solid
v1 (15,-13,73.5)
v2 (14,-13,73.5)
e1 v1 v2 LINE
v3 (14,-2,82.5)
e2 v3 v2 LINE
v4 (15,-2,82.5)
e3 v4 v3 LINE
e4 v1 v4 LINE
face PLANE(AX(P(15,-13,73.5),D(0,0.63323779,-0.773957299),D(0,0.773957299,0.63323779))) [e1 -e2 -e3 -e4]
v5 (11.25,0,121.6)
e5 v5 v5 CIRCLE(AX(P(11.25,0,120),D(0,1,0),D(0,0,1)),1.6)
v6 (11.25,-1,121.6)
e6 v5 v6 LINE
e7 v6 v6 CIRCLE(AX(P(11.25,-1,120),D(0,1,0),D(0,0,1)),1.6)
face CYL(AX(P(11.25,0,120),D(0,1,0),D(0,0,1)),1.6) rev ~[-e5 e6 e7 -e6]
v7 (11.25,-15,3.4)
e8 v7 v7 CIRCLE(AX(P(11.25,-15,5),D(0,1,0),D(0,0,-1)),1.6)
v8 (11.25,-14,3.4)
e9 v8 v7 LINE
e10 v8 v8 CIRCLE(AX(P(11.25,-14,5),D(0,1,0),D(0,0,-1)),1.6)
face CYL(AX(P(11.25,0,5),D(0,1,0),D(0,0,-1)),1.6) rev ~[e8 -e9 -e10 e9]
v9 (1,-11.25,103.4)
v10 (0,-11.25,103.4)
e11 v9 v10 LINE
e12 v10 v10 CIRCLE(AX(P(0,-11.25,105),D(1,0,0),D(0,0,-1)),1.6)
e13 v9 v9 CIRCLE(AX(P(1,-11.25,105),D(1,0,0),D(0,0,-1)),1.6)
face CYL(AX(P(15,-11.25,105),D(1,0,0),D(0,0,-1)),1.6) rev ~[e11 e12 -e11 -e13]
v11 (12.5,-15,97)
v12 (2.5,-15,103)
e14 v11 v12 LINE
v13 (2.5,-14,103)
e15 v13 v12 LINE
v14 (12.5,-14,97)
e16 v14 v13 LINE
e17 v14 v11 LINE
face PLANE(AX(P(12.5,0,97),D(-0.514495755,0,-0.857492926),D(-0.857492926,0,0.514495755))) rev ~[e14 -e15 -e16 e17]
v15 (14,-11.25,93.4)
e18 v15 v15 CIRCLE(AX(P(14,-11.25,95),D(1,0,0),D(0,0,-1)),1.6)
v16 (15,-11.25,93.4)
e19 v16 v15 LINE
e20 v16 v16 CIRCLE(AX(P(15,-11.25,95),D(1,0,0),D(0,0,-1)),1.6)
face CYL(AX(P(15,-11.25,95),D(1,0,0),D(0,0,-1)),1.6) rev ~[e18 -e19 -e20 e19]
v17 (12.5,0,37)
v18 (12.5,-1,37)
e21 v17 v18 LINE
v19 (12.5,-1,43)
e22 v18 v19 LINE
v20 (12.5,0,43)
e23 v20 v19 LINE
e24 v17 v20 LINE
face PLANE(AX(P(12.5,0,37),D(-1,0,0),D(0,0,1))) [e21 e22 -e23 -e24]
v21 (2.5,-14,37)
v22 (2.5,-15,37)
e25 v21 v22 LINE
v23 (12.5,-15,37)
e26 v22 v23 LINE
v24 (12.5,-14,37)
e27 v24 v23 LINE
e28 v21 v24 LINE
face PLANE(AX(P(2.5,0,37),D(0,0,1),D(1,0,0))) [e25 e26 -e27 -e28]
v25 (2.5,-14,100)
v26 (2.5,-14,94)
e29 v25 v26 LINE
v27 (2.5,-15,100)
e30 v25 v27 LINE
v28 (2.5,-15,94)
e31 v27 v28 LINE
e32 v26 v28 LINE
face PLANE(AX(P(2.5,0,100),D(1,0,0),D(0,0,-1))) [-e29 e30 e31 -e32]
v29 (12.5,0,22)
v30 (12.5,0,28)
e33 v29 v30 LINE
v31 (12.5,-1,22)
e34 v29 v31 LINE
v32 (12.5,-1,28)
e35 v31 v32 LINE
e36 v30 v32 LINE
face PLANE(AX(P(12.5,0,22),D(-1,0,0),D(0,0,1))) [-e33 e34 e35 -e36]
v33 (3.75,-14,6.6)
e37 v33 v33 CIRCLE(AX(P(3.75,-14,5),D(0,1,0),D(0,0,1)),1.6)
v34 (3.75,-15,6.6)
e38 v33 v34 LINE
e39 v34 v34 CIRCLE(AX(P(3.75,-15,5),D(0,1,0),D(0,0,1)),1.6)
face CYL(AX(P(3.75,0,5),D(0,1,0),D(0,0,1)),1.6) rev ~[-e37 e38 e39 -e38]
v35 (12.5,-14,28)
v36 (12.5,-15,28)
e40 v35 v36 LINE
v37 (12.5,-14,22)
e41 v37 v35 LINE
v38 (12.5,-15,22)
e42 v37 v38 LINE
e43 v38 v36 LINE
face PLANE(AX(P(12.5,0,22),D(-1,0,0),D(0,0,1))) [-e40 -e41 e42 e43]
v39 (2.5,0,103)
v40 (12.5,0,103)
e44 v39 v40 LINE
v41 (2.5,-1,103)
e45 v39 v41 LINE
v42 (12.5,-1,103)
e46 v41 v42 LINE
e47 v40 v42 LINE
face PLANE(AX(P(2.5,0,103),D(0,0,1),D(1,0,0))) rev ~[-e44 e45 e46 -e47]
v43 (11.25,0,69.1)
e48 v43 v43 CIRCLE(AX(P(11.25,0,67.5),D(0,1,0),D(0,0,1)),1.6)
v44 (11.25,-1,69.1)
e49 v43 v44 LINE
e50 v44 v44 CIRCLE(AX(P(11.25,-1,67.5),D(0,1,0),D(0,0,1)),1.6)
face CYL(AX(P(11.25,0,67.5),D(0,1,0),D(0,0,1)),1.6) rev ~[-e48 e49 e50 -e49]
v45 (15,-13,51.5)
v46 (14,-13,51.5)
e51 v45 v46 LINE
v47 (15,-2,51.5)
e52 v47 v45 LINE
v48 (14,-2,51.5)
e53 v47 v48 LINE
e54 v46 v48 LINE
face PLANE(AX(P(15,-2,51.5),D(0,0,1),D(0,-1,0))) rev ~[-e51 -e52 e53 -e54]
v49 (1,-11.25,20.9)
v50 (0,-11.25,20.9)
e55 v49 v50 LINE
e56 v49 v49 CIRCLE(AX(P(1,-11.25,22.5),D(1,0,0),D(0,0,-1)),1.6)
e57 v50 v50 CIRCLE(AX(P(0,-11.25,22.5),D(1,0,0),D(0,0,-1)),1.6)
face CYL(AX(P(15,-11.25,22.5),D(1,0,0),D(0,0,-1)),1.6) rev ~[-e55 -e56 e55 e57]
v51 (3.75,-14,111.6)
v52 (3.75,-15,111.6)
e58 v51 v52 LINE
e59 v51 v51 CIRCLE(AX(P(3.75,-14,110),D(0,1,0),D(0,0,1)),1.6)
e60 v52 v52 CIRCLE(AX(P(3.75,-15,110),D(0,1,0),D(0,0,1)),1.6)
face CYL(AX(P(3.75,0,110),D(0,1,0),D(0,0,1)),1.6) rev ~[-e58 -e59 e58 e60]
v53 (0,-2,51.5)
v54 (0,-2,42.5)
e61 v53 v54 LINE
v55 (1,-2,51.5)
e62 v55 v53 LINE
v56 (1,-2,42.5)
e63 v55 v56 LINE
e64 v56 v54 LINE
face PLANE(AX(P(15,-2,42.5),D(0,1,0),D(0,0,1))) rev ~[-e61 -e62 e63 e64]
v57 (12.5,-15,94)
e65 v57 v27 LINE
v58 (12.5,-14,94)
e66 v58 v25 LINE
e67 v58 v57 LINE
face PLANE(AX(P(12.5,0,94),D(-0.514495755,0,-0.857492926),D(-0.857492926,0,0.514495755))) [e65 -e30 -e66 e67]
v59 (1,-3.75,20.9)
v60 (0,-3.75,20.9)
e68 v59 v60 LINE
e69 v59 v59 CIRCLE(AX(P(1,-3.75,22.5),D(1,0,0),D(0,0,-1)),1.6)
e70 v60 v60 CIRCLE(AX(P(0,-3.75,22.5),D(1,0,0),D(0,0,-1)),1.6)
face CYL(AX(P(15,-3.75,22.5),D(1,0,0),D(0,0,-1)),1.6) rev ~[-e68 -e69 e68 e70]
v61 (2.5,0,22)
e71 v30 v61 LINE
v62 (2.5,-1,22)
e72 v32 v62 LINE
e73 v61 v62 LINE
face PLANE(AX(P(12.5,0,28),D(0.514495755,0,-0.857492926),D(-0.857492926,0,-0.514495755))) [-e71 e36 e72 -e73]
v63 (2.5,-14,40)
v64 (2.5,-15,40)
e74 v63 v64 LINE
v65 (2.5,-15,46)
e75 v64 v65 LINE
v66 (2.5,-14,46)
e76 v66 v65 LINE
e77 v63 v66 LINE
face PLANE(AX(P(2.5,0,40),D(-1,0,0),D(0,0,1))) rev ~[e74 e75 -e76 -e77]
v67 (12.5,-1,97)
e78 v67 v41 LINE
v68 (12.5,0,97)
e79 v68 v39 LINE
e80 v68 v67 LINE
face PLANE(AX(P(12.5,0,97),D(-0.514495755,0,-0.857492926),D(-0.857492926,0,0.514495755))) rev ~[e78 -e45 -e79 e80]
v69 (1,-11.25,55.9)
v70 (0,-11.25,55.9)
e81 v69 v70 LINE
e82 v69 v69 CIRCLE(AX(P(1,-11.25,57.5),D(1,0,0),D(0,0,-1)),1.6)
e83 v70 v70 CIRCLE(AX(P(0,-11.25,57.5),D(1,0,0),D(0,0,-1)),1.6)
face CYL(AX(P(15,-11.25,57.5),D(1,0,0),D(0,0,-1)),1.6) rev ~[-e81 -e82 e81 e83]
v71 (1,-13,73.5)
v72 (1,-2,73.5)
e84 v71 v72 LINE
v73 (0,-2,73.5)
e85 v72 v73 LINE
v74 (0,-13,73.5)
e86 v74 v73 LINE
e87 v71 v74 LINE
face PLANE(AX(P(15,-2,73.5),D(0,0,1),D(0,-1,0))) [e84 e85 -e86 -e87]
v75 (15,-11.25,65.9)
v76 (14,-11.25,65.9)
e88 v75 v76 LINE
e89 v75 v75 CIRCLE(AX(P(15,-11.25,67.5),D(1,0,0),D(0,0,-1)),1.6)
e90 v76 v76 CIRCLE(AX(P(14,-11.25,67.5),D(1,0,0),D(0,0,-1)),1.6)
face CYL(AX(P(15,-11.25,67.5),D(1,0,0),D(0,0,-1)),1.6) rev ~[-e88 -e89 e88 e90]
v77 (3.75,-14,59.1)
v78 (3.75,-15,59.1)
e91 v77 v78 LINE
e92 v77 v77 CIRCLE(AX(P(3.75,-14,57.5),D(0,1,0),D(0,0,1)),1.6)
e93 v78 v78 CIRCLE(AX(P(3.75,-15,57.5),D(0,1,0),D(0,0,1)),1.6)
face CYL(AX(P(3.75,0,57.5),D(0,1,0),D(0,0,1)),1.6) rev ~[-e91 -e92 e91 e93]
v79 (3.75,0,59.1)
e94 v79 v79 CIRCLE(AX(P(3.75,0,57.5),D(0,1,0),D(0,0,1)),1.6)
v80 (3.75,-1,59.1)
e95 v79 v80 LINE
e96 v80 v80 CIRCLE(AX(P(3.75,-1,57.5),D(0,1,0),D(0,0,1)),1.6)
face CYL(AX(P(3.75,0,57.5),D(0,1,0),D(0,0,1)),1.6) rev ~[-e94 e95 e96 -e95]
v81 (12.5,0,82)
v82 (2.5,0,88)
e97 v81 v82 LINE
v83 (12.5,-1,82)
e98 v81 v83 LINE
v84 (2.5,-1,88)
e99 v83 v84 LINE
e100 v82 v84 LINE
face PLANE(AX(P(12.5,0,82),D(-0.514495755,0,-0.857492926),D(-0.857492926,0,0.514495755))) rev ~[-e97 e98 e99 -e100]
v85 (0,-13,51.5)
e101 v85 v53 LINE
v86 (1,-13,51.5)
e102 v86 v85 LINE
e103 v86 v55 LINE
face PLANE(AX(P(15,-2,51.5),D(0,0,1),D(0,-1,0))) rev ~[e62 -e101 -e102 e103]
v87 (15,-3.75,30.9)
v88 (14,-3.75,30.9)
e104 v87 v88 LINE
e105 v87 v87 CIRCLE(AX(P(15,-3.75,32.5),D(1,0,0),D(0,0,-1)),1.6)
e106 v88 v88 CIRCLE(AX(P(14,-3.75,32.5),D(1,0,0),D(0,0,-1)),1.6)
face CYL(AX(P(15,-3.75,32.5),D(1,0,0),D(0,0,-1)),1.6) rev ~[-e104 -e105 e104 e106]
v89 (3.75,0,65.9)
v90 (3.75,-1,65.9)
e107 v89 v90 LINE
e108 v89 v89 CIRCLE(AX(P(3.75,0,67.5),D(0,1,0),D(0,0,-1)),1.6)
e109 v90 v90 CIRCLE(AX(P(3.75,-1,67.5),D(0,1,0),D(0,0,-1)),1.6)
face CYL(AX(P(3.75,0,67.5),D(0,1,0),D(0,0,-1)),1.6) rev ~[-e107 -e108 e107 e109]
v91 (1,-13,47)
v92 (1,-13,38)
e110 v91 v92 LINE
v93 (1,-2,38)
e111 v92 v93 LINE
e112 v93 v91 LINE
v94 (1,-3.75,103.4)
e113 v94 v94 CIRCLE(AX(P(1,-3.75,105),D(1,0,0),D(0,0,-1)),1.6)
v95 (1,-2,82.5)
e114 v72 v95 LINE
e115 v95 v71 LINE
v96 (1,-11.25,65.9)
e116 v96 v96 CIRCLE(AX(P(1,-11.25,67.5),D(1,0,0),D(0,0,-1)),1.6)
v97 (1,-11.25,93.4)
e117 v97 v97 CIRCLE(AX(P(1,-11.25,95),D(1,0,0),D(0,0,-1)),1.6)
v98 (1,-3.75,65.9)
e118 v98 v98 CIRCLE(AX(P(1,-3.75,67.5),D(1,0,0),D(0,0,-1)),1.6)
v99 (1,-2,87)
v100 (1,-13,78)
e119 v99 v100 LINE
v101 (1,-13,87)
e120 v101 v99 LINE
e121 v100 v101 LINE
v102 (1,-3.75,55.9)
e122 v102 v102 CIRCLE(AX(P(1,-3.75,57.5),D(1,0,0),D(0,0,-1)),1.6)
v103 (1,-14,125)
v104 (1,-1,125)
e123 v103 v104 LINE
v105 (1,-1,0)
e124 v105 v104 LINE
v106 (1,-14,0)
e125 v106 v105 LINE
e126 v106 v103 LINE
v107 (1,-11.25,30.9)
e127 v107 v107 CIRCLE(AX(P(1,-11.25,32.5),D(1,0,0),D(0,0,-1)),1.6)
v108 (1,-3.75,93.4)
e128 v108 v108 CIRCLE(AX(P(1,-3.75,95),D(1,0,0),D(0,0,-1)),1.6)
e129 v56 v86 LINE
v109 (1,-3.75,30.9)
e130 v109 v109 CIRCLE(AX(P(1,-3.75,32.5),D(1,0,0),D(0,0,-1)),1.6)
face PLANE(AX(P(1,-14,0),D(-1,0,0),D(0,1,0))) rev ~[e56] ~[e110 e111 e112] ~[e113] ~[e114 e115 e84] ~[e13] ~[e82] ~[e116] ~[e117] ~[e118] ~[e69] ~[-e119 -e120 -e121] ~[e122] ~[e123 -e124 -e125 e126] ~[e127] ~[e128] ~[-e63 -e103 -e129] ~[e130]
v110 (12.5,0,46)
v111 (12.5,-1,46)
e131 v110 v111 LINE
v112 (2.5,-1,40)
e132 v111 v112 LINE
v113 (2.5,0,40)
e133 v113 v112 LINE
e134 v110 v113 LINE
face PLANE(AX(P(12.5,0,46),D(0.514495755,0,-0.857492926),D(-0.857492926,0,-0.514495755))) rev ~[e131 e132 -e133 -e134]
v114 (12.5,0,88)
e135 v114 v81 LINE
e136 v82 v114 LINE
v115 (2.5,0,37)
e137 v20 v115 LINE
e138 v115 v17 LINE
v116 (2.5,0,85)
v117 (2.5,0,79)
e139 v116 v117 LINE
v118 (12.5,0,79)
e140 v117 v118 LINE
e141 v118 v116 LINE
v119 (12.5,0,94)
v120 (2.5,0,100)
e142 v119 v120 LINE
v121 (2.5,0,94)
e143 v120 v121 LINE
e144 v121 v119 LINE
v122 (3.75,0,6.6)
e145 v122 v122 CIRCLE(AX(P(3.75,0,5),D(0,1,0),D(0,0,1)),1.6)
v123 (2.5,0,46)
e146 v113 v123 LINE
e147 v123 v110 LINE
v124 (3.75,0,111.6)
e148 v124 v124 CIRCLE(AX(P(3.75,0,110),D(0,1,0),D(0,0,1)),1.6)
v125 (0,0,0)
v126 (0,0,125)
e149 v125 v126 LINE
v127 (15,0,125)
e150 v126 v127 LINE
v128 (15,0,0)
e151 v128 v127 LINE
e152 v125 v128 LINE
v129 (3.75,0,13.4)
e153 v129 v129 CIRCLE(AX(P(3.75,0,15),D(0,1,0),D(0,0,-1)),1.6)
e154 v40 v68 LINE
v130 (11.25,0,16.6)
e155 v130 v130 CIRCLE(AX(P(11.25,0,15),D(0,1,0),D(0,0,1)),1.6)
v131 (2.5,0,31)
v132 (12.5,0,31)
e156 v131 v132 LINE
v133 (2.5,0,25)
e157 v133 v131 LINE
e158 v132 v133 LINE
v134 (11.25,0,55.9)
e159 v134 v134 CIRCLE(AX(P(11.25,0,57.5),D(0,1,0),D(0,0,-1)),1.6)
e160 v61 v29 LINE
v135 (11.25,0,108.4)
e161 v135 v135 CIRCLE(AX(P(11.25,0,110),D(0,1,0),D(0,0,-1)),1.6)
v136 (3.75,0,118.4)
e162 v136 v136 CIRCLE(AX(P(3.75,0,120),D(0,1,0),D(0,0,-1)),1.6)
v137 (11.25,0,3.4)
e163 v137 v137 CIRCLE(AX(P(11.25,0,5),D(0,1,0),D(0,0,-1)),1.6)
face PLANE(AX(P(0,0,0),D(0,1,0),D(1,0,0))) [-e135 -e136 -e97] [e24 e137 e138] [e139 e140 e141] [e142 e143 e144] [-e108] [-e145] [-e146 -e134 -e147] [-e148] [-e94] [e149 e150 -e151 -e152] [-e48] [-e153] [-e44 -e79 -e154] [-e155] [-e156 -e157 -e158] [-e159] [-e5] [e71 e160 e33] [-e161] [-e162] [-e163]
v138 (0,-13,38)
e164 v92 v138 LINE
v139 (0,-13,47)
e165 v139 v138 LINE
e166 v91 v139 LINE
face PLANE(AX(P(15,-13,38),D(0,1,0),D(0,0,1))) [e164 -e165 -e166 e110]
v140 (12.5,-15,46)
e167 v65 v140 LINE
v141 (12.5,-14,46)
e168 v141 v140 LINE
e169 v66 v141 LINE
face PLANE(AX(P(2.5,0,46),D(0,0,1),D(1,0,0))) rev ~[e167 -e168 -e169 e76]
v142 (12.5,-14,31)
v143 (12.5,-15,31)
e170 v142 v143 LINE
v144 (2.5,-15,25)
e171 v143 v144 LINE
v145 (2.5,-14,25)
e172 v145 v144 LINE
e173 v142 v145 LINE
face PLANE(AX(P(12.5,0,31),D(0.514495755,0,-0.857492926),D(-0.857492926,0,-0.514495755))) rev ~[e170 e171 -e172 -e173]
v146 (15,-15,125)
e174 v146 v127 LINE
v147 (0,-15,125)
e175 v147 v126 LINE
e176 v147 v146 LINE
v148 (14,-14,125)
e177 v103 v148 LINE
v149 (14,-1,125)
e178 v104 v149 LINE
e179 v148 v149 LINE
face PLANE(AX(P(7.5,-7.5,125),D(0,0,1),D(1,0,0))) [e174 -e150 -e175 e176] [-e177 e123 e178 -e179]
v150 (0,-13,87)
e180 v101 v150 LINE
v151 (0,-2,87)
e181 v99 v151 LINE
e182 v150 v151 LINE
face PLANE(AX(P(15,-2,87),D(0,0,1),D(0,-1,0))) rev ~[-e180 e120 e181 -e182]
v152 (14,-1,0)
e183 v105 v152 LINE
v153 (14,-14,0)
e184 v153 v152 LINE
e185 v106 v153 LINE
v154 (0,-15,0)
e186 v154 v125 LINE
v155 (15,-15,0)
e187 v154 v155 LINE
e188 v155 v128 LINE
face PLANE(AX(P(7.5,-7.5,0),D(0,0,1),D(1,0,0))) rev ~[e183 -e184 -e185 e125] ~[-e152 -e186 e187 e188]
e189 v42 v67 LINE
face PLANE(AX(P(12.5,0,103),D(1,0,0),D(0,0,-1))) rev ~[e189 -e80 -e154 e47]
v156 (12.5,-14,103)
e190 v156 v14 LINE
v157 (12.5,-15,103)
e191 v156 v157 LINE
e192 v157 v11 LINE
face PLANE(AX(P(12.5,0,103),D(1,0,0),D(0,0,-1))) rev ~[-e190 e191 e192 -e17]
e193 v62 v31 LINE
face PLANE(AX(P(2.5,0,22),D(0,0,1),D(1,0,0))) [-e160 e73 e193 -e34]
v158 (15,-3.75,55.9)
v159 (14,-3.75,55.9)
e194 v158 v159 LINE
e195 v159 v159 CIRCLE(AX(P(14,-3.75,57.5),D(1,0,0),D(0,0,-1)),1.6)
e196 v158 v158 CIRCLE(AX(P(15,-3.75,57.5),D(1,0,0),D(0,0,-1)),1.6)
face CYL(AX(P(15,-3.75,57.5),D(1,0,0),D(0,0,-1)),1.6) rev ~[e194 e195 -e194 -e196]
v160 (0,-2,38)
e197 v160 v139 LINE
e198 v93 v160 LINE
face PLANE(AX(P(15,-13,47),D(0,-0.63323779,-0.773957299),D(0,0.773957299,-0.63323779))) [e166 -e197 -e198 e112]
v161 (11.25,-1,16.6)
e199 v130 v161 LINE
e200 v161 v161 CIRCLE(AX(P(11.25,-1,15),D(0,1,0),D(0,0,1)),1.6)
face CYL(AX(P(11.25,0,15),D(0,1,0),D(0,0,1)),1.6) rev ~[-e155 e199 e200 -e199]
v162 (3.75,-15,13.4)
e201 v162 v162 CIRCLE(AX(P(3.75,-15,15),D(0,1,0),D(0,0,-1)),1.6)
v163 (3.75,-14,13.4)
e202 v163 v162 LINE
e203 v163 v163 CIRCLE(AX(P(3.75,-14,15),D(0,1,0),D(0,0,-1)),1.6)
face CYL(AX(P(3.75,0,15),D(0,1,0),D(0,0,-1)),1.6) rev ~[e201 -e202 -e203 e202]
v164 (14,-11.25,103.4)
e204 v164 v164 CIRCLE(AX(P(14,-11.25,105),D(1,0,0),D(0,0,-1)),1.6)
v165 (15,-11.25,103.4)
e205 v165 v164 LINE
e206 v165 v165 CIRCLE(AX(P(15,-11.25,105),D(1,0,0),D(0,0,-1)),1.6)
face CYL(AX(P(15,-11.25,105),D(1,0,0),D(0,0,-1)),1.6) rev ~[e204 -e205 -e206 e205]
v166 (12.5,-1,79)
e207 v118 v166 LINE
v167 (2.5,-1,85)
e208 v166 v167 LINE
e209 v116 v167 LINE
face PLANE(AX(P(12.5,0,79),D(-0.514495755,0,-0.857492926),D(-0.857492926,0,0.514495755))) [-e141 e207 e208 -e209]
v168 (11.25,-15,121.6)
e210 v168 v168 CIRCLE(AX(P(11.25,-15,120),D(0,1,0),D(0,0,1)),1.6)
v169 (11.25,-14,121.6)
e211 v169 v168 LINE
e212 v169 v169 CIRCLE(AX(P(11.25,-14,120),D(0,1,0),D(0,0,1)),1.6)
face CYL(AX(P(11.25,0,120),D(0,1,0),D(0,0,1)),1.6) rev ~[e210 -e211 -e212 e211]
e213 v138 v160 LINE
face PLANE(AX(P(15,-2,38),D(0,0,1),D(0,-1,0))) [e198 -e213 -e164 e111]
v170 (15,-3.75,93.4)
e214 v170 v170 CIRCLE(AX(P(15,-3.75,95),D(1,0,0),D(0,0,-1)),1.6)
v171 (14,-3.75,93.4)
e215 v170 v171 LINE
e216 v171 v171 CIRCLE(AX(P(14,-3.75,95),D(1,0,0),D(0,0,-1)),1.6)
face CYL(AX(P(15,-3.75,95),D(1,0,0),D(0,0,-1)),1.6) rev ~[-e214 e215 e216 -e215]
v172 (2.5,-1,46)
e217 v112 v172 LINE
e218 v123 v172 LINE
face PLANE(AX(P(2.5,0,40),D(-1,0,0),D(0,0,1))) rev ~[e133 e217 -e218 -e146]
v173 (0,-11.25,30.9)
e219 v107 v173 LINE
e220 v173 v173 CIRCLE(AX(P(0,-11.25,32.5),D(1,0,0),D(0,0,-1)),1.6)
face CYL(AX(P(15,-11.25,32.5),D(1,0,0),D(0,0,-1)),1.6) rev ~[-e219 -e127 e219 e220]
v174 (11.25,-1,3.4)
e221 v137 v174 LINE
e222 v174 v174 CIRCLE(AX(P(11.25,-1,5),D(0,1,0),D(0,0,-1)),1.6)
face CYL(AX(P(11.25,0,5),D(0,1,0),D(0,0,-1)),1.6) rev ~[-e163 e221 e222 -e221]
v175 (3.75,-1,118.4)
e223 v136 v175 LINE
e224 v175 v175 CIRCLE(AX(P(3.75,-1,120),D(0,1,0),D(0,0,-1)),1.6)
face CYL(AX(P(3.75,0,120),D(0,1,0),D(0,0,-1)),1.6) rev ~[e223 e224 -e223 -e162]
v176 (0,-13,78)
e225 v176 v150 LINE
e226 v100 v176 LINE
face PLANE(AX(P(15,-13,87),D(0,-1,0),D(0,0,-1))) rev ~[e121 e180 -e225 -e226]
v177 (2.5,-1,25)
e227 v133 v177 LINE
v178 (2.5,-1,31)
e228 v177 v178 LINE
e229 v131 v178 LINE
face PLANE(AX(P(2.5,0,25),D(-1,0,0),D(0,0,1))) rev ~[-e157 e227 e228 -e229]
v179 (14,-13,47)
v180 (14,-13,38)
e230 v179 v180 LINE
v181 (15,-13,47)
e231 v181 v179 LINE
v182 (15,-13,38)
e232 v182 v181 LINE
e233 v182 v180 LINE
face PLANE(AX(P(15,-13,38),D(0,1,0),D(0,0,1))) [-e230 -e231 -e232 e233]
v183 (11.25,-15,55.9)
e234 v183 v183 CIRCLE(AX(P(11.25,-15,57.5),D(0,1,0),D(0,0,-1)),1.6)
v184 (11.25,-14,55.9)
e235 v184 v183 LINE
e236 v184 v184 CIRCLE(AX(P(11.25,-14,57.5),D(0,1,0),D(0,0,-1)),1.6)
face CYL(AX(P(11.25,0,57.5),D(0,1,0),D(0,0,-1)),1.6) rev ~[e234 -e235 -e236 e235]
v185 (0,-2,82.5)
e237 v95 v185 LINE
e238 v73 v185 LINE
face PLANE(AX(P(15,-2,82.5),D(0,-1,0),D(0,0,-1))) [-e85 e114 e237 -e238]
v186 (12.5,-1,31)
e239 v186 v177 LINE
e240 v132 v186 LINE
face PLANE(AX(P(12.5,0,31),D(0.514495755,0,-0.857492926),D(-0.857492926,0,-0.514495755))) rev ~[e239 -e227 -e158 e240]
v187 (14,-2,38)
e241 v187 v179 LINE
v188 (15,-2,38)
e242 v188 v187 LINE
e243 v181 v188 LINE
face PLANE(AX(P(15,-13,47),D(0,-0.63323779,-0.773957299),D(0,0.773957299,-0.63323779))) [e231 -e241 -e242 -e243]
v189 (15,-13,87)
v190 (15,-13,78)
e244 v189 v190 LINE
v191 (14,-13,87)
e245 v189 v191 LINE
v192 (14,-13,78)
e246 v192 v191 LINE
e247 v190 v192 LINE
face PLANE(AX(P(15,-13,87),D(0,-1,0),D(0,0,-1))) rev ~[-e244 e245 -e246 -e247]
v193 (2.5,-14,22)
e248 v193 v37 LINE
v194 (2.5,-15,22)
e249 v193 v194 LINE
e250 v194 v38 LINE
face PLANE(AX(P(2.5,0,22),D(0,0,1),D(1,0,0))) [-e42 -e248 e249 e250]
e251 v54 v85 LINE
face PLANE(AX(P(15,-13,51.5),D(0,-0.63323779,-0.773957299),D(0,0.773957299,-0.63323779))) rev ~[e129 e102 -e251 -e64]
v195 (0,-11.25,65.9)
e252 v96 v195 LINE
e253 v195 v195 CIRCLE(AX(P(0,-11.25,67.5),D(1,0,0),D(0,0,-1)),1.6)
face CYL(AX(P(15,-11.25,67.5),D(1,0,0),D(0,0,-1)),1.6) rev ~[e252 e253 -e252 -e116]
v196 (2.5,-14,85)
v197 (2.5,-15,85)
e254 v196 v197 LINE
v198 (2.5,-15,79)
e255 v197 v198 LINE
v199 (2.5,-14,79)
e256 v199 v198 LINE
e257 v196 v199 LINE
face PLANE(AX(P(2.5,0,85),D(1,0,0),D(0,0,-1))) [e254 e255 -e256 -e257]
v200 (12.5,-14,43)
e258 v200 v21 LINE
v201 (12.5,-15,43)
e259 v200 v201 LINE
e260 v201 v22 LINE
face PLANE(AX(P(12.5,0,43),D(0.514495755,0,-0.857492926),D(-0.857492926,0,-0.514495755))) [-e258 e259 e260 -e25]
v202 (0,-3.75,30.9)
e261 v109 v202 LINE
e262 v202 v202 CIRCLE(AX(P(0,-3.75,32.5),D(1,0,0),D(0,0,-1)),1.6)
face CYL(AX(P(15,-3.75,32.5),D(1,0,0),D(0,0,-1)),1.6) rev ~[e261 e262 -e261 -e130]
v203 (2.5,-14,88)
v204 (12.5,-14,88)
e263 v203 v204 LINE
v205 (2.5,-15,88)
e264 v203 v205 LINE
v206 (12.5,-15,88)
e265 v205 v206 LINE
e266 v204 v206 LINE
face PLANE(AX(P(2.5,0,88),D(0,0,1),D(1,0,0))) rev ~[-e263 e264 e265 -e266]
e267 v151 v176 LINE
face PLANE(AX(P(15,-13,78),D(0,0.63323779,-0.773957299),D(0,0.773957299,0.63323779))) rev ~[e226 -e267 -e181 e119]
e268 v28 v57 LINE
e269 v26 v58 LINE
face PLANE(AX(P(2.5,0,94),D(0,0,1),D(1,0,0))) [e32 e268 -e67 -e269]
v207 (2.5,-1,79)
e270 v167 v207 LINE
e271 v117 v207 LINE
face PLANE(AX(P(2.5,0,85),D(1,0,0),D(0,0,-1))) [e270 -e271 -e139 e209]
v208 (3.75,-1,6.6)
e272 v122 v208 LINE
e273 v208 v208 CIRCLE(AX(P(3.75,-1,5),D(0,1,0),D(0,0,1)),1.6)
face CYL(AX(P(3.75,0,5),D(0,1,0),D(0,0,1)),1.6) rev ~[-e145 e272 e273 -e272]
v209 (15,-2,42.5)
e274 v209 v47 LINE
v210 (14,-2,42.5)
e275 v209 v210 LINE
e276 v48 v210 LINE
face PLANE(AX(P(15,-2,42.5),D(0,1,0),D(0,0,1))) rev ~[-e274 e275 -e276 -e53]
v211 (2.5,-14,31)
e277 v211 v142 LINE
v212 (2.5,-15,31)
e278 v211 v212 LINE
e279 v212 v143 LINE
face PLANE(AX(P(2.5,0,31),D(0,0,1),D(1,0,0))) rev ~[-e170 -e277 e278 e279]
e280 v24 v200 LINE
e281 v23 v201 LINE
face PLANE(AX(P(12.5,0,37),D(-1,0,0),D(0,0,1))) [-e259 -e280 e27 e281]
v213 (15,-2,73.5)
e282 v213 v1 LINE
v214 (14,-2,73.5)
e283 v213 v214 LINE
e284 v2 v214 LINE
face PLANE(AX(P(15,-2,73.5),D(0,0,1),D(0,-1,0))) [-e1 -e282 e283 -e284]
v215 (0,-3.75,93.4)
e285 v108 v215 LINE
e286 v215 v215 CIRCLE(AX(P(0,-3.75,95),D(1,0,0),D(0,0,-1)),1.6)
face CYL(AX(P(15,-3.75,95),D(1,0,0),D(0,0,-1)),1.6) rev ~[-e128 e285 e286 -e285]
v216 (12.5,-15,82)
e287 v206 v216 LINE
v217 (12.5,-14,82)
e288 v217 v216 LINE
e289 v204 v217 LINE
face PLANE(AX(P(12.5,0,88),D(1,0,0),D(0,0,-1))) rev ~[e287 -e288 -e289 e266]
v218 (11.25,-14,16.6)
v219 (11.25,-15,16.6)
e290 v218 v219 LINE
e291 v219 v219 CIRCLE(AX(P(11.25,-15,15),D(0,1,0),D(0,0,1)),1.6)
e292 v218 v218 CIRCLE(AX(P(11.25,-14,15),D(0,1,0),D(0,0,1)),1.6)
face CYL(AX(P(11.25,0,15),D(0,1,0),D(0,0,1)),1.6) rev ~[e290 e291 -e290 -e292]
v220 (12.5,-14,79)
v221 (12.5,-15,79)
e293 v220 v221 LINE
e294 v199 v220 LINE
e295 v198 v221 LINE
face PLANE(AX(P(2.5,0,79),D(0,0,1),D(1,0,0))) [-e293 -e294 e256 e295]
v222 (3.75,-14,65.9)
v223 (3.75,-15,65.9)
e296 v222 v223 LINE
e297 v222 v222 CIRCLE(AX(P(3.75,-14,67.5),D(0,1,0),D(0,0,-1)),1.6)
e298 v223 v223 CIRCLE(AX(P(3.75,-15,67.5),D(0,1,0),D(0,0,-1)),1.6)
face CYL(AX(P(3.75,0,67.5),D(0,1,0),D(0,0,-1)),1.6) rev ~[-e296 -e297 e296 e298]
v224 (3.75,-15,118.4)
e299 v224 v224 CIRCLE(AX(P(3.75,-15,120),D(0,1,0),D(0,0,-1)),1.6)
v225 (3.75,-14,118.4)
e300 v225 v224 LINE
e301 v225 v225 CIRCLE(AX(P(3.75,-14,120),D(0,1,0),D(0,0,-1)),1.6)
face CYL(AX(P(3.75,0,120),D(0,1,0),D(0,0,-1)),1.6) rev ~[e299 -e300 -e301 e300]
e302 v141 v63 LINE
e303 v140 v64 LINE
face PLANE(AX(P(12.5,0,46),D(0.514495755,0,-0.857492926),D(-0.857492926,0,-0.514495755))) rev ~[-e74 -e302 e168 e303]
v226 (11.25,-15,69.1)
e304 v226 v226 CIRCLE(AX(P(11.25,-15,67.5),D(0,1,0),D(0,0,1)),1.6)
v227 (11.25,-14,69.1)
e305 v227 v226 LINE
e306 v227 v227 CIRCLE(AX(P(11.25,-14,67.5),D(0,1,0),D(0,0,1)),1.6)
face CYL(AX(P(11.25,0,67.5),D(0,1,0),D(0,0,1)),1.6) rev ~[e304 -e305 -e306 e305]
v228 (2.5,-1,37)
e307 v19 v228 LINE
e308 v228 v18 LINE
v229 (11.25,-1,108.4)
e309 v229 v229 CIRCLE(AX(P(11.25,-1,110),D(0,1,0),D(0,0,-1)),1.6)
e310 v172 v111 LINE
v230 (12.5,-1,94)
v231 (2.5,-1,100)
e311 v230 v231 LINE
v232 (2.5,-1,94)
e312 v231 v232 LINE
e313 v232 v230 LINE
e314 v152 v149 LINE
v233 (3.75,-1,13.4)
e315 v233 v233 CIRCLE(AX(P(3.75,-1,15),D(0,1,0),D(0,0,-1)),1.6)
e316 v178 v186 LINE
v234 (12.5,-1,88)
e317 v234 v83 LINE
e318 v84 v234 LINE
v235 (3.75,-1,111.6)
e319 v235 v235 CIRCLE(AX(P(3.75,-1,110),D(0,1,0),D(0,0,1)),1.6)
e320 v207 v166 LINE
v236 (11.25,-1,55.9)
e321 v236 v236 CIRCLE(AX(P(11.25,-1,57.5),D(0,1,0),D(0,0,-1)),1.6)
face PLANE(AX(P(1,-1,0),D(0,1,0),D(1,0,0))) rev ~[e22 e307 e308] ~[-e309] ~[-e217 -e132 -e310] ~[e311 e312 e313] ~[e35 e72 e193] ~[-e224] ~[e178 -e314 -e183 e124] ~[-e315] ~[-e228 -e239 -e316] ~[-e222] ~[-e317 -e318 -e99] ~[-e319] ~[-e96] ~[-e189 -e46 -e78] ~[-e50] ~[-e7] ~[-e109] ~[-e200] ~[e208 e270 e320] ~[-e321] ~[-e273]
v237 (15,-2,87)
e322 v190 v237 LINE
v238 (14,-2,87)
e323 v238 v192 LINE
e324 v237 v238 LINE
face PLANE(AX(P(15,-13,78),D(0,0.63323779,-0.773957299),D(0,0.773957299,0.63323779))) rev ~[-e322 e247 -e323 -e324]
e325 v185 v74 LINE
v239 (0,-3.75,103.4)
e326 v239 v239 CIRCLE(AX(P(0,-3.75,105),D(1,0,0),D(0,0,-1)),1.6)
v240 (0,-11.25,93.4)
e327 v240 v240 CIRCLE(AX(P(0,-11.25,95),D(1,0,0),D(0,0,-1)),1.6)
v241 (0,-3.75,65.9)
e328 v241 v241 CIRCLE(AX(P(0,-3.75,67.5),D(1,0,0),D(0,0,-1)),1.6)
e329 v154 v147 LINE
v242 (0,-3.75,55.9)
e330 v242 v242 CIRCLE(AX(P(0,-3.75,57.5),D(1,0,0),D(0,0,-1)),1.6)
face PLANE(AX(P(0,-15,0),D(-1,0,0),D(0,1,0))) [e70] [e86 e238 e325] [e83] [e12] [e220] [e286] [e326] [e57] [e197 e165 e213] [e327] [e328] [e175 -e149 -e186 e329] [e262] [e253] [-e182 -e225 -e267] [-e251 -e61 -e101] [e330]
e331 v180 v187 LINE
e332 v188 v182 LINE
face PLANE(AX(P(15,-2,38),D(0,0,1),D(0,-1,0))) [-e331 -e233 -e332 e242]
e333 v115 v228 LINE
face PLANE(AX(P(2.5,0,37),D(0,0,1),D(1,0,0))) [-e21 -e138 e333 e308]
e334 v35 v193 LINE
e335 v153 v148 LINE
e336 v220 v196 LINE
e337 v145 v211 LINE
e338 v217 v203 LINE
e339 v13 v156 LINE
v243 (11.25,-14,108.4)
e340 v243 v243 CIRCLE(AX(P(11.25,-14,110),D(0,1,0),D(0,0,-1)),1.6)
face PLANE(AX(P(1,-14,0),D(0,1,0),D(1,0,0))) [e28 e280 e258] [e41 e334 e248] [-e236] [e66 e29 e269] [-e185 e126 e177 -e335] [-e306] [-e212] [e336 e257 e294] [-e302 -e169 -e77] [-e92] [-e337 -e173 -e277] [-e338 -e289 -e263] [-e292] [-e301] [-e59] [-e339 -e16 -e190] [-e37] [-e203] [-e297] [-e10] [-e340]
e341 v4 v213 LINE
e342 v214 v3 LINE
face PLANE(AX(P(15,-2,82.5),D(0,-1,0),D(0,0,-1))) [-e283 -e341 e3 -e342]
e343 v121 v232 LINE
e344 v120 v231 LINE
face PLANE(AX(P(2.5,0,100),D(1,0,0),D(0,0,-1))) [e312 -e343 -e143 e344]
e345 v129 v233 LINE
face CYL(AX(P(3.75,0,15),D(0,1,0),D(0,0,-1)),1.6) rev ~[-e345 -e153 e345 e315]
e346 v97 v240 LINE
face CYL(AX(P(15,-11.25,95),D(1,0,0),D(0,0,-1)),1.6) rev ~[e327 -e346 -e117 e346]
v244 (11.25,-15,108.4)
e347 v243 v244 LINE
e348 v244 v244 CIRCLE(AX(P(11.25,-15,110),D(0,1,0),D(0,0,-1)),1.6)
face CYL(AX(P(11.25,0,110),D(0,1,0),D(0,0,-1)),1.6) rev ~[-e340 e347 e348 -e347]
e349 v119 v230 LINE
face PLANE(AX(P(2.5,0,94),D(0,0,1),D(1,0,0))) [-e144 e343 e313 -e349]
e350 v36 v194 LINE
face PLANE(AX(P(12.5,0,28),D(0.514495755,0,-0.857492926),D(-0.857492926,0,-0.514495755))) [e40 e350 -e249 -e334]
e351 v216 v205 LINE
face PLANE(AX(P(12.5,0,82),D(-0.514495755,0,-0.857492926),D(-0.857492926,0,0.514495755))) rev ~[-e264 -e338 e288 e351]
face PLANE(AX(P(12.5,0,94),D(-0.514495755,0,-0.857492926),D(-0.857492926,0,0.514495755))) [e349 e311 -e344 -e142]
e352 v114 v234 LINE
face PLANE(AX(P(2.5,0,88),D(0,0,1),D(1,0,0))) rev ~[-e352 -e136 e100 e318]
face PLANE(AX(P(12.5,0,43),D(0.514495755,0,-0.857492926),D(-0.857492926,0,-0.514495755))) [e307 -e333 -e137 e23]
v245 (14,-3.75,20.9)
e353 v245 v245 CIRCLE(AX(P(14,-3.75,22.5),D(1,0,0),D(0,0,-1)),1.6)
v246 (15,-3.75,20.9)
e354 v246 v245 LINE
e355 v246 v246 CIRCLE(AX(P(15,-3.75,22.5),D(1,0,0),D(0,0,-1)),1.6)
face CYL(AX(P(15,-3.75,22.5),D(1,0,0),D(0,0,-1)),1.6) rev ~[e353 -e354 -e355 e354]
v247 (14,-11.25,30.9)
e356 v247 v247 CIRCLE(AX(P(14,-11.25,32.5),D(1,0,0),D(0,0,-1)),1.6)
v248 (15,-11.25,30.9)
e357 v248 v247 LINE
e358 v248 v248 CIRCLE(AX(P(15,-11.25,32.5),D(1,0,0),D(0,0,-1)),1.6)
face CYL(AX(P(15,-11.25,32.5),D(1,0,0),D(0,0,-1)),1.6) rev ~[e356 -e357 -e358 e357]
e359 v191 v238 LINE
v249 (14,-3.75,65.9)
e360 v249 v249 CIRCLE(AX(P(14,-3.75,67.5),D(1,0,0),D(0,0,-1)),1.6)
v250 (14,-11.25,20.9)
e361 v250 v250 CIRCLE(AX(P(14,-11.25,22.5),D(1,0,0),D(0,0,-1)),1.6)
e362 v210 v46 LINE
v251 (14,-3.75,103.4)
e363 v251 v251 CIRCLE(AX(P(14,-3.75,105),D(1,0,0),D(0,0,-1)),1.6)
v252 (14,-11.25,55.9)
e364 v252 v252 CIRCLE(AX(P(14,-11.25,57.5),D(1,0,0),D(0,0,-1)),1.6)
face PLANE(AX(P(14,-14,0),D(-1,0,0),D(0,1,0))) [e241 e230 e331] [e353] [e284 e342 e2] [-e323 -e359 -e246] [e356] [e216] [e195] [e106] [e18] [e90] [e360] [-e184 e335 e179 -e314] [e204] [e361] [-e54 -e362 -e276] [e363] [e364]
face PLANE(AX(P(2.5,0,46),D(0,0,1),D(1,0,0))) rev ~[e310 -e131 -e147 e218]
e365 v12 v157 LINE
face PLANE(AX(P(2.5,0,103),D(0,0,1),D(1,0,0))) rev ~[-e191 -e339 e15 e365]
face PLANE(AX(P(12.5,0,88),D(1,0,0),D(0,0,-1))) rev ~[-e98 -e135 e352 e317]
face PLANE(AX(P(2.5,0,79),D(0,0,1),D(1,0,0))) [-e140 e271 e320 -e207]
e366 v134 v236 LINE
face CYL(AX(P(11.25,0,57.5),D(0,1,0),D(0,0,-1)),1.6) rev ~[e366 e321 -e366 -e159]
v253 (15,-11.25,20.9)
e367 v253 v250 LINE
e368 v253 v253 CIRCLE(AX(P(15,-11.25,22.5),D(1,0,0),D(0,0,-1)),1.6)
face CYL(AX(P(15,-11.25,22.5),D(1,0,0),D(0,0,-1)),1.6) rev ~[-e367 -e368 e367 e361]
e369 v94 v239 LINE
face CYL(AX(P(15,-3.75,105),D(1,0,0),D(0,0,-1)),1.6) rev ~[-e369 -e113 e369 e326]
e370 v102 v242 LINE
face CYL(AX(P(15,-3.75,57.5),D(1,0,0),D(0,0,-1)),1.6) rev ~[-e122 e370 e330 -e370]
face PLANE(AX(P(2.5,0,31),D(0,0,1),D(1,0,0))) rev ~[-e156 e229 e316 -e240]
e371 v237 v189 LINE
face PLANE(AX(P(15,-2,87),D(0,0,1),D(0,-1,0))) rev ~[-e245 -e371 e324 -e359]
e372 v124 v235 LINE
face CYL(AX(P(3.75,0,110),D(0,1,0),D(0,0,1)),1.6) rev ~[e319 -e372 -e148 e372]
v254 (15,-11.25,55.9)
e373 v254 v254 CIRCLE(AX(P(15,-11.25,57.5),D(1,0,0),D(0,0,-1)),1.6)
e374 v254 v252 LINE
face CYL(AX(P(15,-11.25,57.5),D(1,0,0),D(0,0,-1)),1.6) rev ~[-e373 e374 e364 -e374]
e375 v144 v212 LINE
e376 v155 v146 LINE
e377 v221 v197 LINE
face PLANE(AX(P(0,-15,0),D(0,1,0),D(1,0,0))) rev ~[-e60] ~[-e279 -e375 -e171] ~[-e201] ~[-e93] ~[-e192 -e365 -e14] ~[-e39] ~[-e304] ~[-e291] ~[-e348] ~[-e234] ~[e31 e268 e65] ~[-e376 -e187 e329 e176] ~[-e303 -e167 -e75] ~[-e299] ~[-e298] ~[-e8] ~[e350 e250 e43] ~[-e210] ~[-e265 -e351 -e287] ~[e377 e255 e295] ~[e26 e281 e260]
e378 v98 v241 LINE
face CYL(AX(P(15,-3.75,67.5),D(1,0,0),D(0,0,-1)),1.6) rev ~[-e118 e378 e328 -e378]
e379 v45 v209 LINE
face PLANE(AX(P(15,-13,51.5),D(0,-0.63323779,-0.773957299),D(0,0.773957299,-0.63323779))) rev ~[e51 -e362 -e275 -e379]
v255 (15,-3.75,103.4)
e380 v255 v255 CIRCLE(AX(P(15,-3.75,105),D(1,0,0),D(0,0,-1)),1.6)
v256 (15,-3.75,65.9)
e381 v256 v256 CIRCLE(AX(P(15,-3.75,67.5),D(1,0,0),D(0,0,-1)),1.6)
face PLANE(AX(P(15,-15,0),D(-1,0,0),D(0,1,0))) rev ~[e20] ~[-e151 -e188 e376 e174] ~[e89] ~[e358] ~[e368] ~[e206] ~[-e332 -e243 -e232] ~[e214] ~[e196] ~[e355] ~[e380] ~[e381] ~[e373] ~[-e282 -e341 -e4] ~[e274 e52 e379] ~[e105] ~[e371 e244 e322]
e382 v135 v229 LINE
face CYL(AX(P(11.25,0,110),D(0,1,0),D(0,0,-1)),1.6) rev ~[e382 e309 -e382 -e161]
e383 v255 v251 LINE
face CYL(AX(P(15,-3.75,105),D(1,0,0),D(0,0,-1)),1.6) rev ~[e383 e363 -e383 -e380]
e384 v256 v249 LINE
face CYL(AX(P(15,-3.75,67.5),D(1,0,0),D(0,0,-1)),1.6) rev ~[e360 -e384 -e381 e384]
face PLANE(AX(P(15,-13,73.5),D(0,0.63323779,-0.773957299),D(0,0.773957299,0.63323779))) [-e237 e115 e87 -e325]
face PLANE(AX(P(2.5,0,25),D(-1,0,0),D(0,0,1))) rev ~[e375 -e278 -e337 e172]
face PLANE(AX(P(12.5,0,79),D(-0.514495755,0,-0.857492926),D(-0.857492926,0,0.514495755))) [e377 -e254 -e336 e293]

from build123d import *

# Parameters (mm, degrees)
SKETCH_1_W          = 15
SKETCH_1_H          = 15
SKETCH_1_W_2        = 13
SKETCH_1_H_2        = 13
EXTRUDE_1_DEPTH     = 125
SKETCH_2_R          = 1.6
CUT_EXTRUDE_1_DEPTH = 127.787223331
SKETCH_3_R          = 1.6
CUT_EXTRUDE_2_DEPTH = 127.787223331


with BuildPart() as part:
    # 草图1 → 拉伸-薄壁1 (new body)
    with BuildSketch(Plane.XY):
        with Locations((7.5, -7.5)):
            Rectangle(SKETCH_1_W, SKETCH_1_H)
        with Locations((7.5, -7.5)):
            Rectangle(SKETCH_1_W_2, SKETCH_1_H_2, mode=Mode.SUBTRACT)
    extrude(amount=EXTRUDE_1_DEPTH)

    # 草图2 → 切除-拉伸1 (cut, through all)
    with BuildSketch(Plane(origin=(15, 0, 0), x_dir=(0, 0, -1), z_dir=(1, 0, 0))):
        with Locations((-105, -3.75)):
            Circle(SKETCH_2_R)
        with Locations((-105, -11.25)):
            Circle(SKETCH_2_R)
        with Locations((-95, -11.25)):
            Circle(SKETCH_2_R)
        with Locations((-95, -3.75)):
            Circle(SKETCH_2_R)
        with Locations((-22.5, -3.75)):
            Circle(SKETCH_2_R)
        with Locations((-22.5, -11.25)):
            Circle(SKETCH_2_R)
        with Locations((-32.5, -11.25)):
            Circle(SKETCH_2_R)
        with Locations((-32.5, -3.75)):
            Circle(SKETCH_2_R)
        with Locations((-57.5, -11.25)):
            Circle(SKETCH_2_R)
        with Locations((-67.5, -11.25)):
            Circle(SKETCH_2_R)
        with Locations((-67.5, -3.75)):
            Circle(SKETCH_2_R)
        with Locations((-57.5, -3.75)):
            Circle(SKETCH_2_R)
        Polygon((-87, -2), (-87, -13), (-78, -13), align=None)
        Polygon((-82.5, -2), (-73.5, -2), (-73.5, -13), align=None)
        Polygon((-51.5, -13), (-42.5, -2), (-51.5, -2), align=None)
        Polygon((-47, -13), (-38, -2), (-38, -13), align=None)
    extrude(amount=-CUT_EXTRUDE_1_DEPTH, mode=Mode.SUBTRACT)

    # 草图3 → 切除-拉伸2 (cut, through all)
    with BuildSketch(Plane(origin=(0, 0, 0), x_dir=(1, 0, 0), z_dir=(0, 1, 0))):
        with Locations(Location((3.75, -5, 0), (0, 0, 270))):
            Circle(SKETCH_3_R)
        with Locations(Location((11.25, -5, 0), (0, 0, 90))):
            Circle(SKETCH_3_R)
        with Locations(Location((11.25, -15, 0), (0, 0, 270))):
            Circle(SKETCH_3_R)
        with Locations(Location((3.75, -15, 0), (0, 0, 90))):
            Circle(SKETCH_3_R)
        with Locations(Location((3.75, -57.5, 0), (0, 0, 270))):
            Circle(SKETCH_3_R)
        with Locations(Location((11.25, -57.5, 0), (0, 0, 90))):
            Circle(SKETCH_3_R)
        with Locations(Location((11.25, -67.5, 0), (0, 0, 270))):
            Circle(SKETCH_3_R)
        with Locations(Location((3.75, -67.5, 0), (0, 0, 90))):
            Circle(SKETCH_3_R)
        with Locations(Location((3.75, -110, 0), (0, 0, 270))):
            Circle(SKETCH_3_R)
        with Locations(Location((11.25, -110, 0), (0, 0, 90))):
            Circle(SKETCH_3_R)
        with Locations(Location((11.25, -120, 0), (0, 0, 270))):
            Circle(SKETCH_3_R)
        with Locations(Location((3.75, -120, 0), (0, 0, 90))):
            Circle(SKETCH_3_R)
        Polygon((2.5, -25), (2.5, -31), (12.5, -31), align=None)
        Polygon((2.5, -22), (12.5, -22), (12.5, -28), align=None)
        Polygon((2.5, -37), (12.5, -37), (12.5, -43), align=None)
        Polygon((12.5, -46), (2.5, -40), (2.5, -46), align=None)
        Polygon((2.5, -79), (12.5, -79), (2.5, -85), align=None)
        Polygon((12.5, -82), (2.5, -88), (12.5, -88), align=None)
        Polygon((12.5, -97), (2.5, -103), (12.5, -103), align=None)
        Polygon((12.5, -94), (2.5, -100), (2.5, -94), align=None)
    extrude(amount=-CUT_EXTRUDE_2_DEPTH, mode=Mode.SUBTRACT)


solid = part.part
